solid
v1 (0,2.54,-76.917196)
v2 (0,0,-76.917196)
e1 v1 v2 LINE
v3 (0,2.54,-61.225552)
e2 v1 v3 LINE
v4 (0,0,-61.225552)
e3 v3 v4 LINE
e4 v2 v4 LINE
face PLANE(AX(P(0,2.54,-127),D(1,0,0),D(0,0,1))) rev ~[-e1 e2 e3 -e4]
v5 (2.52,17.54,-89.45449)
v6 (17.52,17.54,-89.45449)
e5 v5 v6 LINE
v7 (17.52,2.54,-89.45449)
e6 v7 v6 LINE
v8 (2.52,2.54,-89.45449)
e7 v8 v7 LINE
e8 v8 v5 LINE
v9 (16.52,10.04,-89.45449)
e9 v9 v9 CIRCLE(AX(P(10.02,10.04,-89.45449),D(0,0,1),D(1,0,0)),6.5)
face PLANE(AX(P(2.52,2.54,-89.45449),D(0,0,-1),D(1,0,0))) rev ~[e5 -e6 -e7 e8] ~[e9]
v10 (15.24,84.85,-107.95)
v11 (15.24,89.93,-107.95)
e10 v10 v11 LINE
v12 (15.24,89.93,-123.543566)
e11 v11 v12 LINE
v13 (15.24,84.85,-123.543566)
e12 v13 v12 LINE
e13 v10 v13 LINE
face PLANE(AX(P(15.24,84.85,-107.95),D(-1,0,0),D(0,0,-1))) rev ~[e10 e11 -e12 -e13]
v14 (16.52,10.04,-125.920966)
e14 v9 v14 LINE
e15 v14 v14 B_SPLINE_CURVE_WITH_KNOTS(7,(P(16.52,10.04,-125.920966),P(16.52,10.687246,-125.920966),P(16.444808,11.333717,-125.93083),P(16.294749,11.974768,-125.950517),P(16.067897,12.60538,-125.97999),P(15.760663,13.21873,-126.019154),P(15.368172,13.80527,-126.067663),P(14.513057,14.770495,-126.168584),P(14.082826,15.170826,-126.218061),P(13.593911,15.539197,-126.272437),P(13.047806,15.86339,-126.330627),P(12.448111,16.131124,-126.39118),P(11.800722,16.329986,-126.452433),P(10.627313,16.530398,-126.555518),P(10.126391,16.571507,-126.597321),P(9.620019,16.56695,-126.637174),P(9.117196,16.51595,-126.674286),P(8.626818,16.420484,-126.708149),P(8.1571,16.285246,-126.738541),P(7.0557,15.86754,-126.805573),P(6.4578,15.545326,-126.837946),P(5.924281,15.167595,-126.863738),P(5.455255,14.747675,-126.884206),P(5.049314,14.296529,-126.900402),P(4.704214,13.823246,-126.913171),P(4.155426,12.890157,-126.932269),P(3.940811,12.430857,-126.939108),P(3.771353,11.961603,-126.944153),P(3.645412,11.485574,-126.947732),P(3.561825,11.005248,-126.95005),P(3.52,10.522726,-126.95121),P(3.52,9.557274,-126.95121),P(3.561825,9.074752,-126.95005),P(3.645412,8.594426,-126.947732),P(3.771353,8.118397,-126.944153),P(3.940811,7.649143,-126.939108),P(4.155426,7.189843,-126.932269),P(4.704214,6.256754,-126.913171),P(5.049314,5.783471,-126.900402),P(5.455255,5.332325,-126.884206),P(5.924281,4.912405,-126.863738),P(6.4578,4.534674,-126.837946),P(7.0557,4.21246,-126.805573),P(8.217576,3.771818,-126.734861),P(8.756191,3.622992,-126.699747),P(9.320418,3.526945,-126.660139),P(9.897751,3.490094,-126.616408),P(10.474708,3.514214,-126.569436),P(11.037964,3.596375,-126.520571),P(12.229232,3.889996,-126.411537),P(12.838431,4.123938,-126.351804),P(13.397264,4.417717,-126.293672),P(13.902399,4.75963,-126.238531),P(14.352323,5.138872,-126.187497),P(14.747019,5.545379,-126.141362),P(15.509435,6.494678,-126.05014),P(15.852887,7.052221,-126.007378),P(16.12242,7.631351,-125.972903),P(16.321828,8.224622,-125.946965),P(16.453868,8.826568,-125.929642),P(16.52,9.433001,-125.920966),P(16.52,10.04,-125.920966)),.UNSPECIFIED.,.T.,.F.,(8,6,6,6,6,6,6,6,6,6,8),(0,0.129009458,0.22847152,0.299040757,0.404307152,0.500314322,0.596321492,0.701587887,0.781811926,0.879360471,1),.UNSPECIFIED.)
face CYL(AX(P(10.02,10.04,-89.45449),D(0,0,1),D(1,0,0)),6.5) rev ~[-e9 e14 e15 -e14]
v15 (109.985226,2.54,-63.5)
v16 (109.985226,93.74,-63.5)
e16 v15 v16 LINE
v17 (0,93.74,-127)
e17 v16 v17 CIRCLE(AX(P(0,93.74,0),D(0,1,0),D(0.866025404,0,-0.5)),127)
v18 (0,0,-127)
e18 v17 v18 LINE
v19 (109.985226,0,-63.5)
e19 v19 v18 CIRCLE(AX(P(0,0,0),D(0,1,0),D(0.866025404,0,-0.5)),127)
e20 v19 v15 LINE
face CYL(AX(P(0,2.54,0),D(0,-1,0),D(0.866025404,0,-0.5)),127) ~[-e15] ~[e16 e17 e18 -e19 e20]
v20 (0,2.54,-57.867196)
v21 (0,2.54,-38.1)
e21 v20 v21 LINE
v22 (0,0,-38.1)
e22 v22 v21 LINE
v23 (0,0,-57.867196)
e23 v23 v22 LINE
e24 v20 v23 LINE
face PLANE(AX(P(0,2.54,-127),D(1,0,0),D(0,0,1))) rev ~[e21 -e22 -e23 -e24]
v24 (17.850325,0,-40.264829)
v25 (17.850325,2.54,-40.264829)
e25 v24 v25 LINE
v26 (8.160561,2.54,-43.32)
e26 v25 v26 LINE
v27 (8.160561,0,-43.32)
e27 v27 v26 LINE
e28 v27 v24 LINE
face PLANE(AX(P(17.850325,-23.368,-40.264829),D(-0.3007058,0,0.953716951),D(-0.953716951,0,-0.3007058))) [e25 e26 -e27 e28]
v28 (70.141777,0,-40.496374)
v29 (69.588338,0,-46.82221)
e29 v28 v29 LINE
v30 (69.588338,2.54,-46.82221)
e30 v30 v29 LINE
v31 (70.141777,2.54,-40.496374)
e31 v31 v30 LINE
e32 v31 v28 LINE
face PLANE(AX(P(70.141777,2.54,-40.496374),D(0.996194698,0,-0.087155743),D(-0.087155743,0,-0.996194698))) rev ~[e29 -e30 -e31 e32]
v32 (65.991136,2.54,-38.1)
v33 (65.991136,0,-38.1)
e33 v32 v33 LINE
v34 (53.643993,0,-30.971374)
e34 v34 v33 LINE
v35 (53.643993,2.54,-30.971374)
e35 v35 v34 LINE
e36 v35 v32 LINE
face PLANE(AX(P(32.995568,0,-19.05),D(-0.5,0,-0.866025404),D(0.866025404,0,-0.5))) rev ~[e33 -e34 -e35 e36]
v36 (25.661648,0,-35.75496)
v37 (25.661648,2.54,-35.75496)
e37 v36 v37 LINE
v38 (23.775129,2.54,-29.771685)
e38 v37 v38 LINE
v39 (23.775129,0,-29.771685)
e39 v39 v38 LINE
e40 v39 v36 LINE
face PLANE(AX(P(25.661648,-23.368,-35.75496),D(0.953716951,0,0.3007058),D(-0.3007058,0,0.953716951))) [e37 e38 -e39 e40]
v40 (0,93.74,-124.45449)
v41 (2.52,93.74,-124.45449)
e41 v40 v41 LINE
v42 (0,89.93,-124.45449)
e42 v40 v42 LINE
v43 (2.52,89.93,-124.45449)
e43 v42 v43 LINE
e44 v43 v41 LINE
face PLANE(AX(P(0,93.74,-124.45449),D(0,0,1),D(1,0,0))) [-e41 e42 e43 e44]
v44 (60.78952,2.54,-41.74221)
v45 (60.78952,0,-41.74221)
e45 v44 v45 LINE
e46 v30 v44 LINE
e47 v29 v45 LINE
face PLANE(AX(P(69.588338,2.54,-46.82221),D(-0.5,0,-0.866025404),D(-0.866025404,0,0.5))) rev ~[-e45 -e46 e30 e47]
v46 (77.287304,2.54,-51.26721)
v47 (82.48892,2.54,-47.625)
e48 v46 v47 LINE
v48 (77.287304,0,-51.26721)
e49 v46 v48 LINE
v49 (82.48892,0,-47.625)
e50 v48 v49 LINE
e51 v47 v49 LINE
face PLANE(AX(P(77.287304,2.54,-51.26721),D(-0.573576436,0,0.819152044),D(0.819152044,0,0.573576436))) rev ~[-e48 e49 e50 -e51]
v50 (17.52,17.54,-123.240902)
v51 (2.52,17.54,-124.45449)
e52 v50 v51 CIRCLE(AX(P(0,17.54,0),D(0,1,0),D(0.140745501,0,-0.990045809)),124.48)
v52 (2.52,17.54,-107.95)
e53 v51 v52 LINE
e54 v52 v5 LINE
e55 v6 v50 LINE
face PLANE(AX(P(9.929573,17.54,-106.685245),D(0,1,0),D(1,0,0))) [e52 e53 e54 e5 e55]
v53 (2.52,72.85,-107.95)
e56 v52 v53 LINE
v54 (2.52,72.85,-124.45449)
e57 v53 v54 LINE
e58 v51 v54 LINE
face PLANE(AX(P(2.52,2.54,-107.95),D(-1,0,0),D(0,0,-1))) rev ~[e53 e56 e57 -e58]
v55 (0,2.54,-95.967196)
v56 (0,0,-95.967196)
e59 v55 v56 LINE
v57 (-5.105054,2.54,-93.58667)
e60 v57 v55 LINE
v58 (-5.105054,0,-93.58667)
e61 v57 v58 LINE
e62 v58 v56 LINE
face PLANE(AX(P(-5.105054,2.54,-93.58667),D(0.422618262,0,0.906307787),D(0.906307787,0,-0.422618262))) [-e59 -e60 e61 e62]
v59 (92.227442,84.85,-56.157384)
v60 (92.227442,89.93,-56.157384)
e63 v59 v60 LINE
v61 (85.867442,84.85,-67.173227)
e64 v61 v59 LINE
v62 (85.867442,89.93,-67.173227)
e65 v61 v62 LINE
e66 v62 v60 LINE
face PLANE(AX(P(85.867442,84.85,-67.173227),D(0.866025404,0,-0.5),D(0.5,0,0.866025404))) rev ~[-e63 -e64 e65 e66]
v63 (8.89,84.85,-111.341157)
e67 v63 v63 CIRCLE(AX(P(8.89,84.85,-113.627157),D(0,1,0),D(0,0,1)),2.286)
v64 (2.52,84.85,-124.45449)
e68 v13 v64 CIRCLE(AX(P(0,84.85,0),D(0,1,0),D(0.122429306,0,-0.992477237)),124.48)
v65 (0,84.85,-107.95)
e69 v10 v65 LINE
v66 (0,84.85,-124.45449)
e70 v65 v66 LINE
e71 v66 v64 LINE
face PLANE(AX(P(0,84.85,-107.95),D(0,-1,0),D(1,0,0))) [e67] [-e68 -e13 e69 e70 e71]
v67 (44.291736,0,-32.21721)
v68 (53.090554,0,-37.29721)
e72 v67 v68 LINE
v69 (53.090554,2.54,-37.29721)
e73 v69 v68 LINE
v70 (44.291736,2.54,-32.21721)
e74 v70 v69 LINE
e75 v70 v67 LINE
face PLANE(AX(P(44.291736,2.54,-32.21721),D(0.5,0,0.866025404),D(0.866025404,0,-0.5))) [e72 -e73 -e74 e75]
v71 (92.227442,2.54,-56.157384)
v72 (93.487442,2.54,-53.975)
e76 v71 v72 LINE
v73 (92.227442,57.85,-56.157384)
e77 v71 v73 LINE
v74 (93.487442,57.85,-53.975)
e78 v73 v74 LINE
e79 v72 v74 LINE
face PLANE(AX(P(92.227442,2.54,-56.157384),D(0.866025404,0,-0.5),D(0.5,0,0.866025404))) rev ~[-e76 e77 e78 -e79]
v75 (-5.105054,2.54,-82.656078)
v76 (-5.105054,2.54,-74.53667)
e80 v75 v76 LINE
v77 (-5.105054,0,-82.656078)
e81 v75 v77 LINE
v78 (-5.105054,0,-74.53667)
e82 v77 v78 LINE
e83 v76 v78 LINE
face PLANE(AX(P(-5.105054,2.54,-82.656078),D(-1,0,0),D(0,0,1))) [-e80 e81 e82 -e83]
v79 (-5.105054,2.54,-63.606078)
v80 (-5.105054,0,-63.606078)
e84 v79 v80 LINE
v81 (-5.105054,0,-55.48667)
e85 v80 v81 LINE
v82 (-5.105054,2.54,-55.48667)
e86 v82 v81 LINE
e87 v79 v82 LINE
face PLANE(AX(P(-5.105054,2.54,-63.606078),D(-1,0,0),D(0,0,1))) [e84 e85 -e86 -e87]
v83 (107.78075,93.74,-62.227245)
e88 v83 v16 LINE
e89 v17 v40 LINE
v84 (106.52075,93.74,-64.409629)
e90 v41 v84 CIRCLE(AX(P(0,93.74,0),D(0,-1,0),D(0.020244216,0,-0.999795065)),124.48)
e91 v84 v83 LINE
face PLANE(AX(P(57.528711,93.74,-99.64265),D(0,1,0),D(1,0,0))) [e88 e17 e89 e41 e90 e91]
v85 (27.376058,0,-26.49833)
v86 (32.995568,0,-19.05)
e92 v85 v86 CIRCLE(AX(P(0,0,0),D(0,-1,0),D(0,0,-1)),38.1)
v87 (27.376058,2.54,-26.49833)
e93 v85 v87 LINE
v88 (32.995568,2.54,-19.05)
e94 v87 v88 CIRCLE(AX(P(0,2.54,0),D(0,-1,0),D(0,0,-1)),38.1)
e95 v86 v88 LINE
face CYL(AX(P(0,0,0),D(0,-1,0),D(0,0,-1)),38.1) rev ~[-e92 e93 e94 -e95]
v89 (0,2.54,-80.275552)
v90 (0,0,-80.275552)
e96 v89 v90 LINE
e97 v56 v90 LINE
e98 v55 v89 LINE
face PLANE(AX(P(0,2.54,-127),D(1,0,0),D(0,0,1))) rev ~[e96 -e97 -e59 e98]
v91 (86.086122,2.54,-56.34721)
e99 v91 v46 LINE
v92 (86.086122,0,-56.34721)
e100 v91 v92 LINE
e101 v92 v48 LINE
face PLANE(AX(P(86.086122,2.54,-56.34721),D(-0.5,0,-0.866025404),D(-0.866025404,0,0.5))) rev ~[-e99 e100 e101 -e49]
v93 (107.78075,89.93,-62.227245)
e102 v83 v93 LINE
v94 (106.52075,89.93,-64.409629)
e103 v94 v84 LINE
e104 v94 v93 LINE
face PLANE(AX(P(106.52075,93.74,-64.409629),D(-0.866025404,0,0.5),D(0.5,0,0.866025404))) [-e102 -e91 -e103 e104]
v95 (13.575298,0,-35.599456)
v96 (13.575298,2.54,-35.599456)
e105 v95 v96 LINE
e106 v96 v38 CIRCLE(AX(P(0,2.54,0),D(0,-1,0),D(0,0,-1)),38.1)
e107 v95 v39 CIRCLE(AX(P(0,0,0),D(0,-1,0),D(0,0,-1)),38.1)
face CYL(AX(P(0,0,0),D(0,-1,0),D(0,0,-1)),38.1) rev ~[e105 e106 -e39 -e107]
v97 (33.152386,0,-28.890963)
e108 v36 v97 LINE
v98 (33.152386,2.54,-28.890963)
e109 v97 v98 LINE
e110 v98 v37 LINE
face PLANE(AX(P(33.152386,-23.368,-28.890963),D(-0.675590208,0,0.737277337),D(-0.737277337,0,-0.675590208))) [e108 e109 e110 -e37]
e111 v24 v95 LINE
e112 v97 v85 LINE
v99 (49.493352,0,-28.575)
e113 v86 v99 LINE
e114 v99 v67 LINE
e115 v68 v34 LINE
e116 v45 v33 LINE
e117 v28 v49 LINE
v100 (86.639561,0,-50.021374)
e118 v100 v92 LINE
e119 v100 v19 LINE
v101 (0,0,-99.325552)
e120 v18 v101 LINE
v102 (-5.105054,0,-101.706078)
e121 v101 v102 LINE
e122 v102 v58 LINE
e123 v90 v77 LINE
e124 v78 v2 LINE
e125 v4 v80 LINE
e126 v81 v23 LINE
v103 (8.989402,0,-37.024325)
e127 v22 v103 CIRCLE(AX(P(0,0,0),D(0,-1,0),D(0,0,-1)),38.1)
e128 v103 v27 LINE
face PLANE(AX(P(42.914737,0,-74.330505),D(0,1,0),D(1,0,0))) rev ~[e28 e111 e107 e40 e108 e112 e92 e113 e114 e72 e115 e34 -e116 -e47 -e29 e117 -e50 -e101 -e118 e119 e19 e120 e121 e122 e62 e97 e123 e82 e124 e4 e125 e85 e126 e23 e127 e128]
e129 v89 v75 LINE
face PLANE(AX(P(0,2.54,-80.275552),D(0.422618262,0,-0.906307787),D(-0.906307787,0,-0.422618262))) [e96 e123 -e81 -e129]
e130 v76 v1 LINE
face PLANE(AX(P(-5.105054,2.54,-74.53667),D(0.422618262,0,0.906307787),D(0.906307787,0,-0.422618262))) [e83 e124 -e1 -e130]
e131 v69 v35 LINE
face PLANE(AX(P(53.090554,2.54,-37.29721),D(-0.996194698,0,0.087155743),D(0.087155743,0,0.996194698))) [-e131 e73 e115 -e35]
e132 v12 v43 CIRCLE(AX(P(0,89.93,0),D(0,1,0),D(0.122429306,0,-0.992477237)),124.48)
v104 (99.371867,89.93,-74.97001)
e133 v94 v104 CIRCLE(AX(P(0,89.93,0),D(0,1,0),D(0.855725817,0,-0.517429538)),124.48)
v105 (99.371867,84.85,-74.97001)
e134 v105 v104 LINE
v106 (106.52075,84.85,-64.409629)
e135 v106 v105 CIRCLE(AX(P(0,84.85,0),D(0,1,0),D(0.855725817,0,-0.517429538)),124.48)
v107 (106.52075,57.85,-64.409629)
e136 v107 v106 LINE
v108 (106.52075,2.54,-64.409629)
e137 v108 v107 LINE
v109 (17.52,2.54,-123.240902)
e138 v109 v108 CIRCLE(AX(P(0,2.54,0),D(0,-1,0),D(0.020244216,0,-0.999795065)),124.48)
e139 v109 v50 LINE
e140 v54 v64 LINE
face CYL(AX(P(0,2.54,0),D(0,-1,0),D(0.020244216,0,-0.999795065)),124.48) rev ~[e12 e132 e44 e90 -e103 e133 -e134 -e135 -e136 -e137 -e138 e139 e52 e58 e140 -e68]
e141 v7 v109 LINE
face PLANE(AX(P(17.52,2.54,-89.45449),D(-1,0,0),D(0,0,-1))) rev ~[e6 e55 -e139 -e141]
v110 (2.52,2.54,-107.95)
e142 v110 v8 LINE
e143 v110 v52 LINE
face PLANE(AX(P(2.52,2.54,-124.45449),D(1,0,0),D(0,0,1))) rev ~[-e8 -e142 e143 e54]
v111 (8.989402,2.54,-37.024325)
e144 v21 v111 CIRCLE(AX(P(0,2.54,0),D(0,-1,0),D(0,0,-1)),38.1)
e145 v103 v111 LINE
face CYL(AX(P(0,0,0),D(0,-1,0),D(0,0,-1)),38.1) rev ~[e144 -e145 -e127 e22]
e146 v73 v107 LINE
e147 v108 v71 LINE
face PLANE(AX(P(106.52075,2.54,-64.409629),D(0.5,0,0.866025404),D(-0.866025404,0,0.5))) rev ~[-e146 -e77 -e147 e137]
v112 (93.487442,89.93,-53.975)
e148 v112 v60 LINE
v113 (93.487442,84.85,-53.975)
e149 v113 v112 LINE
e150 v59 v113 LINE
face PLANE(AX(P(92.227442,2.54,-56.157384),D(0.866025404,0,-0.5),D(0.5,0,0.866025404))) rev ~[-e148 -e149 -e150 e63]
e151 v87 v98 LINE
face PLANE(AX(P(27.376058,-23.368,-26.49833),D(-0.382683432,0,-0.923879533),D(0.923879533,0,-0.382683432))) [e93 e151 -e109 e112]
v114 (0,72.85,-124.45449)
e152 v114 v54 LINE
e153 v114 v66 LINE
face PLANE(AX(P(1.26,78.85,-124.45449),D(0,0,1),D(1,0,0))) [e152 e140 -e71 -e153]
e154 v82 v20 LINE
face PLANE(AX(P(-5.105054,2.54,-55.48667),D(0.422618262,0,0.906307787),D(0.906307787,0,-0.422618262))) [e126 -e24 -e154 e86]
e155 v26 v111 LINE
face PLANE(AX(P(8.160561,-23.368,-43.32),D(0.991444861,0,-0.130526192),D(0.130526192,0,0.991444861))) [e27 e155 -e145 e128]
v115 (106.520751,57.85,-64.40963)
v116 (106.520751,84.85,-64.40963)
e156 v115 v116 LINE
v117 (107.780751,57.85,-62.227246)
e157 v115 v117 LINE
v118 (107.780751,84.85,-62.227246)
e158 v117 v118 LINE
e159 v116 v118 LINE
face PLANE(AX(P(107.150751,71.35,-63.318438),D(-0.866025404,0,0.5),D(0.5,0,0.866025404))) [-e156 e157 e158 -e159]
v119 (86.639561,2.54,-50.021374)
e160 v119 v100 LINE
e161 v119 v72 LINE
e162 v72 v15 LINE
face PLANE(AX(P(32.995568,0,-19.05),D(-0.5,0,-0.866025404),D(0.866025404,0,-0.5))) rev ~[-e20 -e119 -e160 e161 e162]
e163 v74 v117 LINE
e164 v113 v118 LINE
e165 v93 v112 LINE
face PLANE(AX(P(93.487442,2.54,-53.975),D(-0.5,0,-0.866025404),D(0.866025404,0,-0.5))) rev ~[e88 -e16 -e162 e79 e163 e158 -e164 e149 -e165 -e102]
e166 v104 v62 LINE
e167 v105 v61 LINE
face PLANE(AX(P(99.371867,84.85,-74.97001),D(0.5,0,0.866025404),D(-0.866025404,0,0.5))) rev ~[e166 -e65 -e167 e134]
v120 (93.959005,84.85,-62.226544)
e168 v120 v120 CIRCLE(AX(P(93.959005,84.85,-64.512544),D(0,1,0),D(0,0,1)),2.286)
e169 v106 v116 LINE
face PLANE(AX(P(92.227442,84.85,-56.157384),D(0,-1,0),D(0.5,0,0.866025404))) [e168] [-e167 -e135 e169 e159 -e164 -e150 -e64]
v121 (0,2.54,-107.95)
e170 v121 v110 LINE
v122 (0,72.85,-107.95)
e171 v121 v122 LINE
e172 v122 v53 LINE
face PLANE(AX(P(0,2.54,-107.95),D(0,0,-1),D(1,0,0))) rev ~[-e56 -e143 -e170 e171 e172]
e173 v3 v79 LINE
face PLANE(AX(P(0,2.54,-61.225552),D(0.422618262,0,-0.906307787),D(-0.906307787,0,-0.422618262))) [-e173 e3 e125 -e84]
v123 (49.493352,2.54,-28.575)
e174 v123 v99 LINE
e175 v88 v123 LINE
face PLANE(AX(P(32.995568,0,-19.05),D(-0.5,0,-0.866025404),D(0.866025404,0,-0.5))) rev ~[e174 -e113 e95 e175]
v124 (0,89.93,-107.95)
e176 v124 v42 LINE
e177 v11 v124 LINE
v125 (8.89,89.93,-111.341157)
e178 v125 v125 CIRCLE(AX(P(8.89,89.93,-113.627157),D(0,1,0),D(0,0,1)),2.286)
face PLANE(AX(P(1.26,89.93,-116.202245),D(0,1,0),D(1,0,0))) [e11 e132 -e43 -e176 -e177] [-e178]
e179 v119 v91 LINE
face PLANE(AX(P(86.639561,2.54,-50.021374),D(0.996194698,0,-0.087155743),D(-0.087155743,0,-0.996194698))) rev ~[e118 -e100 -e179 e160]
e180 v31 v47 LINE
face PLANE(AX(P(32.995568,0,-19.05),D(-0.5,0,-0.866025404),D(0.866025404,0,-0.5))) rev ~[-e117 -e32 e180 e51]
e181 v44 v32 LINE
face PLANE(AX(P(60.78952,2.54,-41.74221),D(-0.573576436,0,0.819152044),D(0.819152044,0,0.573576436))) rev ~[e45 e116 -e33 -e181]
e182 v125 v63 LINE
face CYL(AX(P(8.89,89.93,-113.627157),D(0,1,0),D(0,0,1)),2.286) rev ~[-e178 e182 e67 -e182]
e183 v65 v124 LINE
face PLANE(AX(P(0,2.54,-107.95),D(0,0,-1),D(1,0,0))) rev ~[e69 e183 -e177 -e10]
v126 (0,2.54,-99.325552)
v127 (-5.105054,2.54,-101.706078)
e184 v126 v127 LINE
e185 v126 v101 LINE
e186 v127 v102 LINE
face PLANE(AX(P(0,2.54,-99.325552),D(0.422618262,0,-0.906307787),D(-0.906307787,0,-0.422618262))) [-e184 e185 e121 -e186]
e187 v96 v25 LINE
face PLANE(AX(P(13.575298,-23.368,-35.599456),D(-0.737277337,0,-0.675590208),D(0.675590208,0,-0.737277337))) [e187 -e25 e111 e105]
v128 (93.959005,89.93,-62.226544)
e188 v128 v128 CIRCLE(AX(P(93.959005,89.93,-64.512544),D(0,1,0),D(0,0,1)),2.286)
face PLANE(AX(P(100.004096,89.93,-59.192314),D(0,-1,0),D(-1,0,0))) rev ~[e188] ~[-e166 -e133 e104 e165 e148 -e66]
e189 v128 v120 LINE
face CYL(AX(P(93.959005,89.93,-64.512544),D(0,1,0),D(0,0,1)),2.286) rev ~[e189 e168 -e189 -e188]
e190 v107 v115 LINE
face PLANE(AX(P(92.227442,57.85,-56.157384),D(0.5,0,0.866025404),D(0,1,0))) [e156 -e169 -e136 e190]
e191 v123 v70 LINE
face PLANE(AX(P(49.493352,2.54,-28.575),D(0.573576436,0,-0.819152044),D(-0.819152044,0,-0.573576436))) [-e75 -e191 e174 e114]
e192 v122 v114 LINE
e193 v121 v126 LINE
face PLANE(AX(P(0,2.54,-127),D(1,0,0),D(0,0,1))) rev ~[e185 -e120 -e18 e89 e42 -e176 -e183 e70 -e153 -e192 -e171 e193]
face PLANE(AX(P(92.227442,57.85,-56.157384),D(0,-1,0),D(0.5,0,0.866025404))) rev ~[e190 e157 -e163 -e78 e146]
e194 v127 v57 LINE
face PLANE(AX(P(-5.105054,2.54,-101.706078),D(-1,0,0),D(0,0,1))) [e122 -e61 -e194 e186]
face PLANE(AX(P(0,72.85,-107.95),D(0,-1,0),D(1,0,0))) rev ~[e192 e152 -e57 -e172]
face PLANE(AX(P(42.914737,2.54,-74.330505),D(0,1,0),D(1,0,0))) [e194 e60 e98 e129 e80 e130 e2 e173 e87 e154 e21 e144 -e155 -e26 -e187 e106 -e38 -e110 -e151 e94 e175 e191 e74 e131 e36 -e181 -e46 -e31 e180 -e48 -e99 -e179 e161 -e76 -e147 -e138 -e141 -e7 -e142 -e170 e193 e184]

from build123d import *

# Parameters (mm, degrees)
BOSS_EXTRUDE1_DEPTH      = 2.54
BOSS_EXTRUDE2_DEPTH      = 91.2
CUT_EXTRUDE2_START       = -25.908
CUT_EXTRUDE2_DEPTH       = 25.908
CUT_EXTRUDE3_DEPTH       = 25.908
BOSS_EXTRUDE3_DEPTH      = 2.54
BOSS_EXTRUDE6_START      = -8.89
BOSS_EXTRUDE6_DEPTH      = 5.08
CUT_EXTRUDE4_REACH       = 192.56
SKETCH12_R               = 2.286
SKETCH14_W               = 2.52
SKETCH14_H               = 16.504489674
CUT_EXTRUDE5_DEPTH       = 3.81
SKETCH20_W               = 2.52
SKETCH20_H               = 12
CUT_EXTRUDE8_DEPTH       = 16.50449
SKETCH21_W               = 2.52
SKETCH21_H               = 27
CUT_EXTRUDE9_DEPTH       = 16.504491
BOSS_EXTRUDE7_DEPTH      = 15
CUT_EXTRUDE10_REACH      = 162.751
CUT_EXTRUDE10_END_RADIUS = 127
SKETCH23_R               = 6.5


with BuildPart() as part:
    # Sketch3 → Boss-Extrude1 (new body)
    with BuildSketch(Plane(origin=(0, 0, 0), x_dir=(1, 0, 0), z_dir=(0, 1, 0))):
        with BuildLine():
            Line((0, 127), (0, 38.1))
            ThreePointArc((0, 38.1), (19.05, 32.995567884), (32.995567884, 19.05))
            Line((32.995567884, 19.05), (109.985226281, 63.5))
            ThreePointArc((109.985226281, 63.5), (63.5, 109.985226281), (0, 127))
        make_face()
    extrude(amount=BOSS_EXTRUDE1_DEPTH)

    # Sketch4 → Boss-Extrude2 (add)
    with BuildSketch(Plane(origin=(0, 2.54, 0), x_dir=(1, 0, 0), z_dir=(0, 1, 0))):
        with BuildLine():
            Line((0, 127), (0, 107.95))
            Line((0, 107.95), (2.52, 107.95))
            Line((2.52, 107.95), (2.52, 124.454489674))
            ThreePointArc((2.52, 124.454489674), (62.24, 107.802842263), (106.520749673, 64.409628855))
            Line((106.520749673, 64.409628855), (92.227442339, 56.157384018))
            Line((92.227442339, 56.157384018), (93.487442339, 53.975))
            Line((93.487442339, 53.975), (109.985226281, 63.5))
            ThreePointArc((109.985226281, 63.5), (63.5, 109.985226281), (0, 127))
        make_face()
    extrude(amount=BOSS_EXTRUDE2_DEPTH)

    # Sketch5 → Cut-Extrude2 (cut)
    with BuildSketch(Plane(origin=(0, 2.54, 0), x_dir=(1, 0, 0), z_dir=(0, 1, 0)).offset(CUT_EXTRUDE2_START)):
        with BuildLine():
            Line((17.850324991, 40.264829059), (8.160560772, 43.319999982))
            Line((8.160560772, 43.319999982), (8.989402092, 37.024325112))
            ThreePointArc((8.989402092, 37.024325112), (11.304821498, 36.384213759), (13.575298322, 35.599456112))
            Line((13.575298322, 35.599456112), (17.850324991, 40.264829059))
        make_face()
        with BuildLine():
            Line((25.661648149, 35.754959531), (23.775129005, 29.77168522))
            ThreePointArc((23.775129005, 29.77168522), (25.627908389, 28.192557734), (27.37605765, 26.498329524))
            Line((27.37605765, 26.498329524), (33.152385891, 28.890963022))
            Line((33.152385891, 28.890963022), (25.661648149, 35.754959531))
        make_face()
    extrude(amount=CUT_EXTRUDE2_DEPTH, mode=Mode.SUBTRACT)

    # Sketch6 → Cut-Extrude3 (cut)
    with BuildSketch(Plane(origin=(0, 2.54, 0), x_dir=(1, 0, 0), z_dir=(0, 1, 0))):
        Polygon((49.493351826, 28.575), (44.291736345, 32.217210371), (53.090554447, 37.297210371), (53.643993414, 30.971374038), align=None)
        Polygon((65.991135768, 38.1), (70.141777356, 40.496374038), (69.58833839, 46.822210371), (60.789520287, 41.742210371), align=None)
        Polygon((82.48891971, 47.625), (86.639561298, 50.021374038), (86.086122332, 56.347210371), (77.287304229, 51.267210371), align=None)
    extrude(amount=-CUT_EXTRUDE3_DEPTH, mode=Mode.SUBTRACT)

    # Sketch7 → Boss-Extrude3 (add)
    with BuildSketch(Plane(origin=(0, 2.54, 0), x_dir=(1, 0, 0), z_dir=(0, 1, 0))):
        Polygon((0, 95.967195647), (0, 99.325552429), (-5.105054448, 101.706078413), (-5.105054448, 93.586669663), align=None)
        Polygon((0, 76.917195647), (0, 80.275552429), (-5.105054448, 82.656078413), (-5.105054448, 74.536669663), align=None)
        Polygon((0, 57.867195647), (0, 61.225552429), (-5.105054448, 63.606078413), (-5.105054448, 55.486669663), align=None)
    extrude(amount=-BOSS_EXTRUDE3_DEPTH)

    # Sketch9 → Boss-Extrude6 (add)
    with BuildSketch(Plane(origin=(0, 93.74, 0), x_dir=(1, 0, 0), z_dir=(0, 1, 0)).offset(BOSS_EXTRUDE6_START)):
        with BuildLine():
            Line((2.52, 124.454489674), (2.52, 107.95))
            Line((2.52, 107.95), (15.24, 107.95))
            Line((15.24, 107.95), (15.24, 123.543566405))
            ThreePointArc((15.24, 123.543566405), (8.891672807, 124.162025413), (2.52, 124.454489674))
        make_face()
        with BuildLine():
            ThreePointArc((106.520749673, 64.409628855), (103.08163179, 69.781427239), (99.371866981, 74.970010356))
            Line((99.371866981, 74.970010356), (85.867442339, 67.173227154))
            Line((85.867442339, 67.173227154), (92.227442339, 56.157384018))
            Line((92.227442339, 56.157384018), (106.520749673, 64.409628855))
        make_face()
    extrude(amount=BOSS_EXTRUDE6_DEPTH)

    # Sketch12 → Cut-Extrude4 (cut, up to next)
    with BuildSketch(Plane(origin=(0, 89.93, 0), x_dir=(1, 0, 0), z_dir=(0, 1, 0)), mode=Mode.PRIVATE) as cut_extrude4_sk1:
        with Locations(Location((8.89, 113.627157306, 0), (0, 0, 270))):
            Circle(SKETCH12_R)
    cut_extrude4_tool1 = extrude(cut_extrude4_sk1.sketch, amount=-CUT_EXTRUDE4_REACH, mode=Mode.PRIVATE) & part.part
    # Sketch12 → Cut-Extrude4 (cut, up to next)
    with BuildSketch(Plane(origin=(0, 89.93, 0), x_dir=(1, 0, 0), z_dir=(0, 1, 0)), mode=Mode.PRIVATE) as cut_extrude4_sk2:
        with Locations(Location((93.959004787, 64.512544493, 0), (0, 0, 270))):
            Circle(SKETCH12_R)
    cut_extrude4_tool2 = extrude(cut_extrude4_sk2.sketch, amount=-CUT_EXTRUDE4_REACH, mode=Mode.PRIVATE) & part.part
    add(cut_extrude4_tool1.solids().sort_by_distance((8.89, 89.93, -113.627157))[0], mode=Mode.SUBTRACT)
    add(cut_extrude4_tool2.solids().sort_by_distance((93.959005, 89.93, -64.512544))[0], mode=Mode.SUBTRACT)

    # Sketch14 → Cut-Extrude5 (cut)
    with BuildSketch(Plane(origin=(0, 93.74, 0), x_dir=(1, 0, 0), z_dir=(0, 1, 0))):
        with Locations((1.26, 116.202244837)):
            Rectangle(SKETCH14_W, SKETCH14_H)
        Polygon((106.520749673, 64.409628855), (107.780749673, 62.227244837), (93.487442339, 53.975), (92.227442339, 56.157384018), align=None)
    extrude(amount=-CUT_EXTRUDE5_DEPTH, mode=Mode.SUBTRACT)

    # Sketch20 → Cut-Extrude8 (cut)
    with BuildSketch(Plane.XY.offset(-107.95)):
        with Locations((1.26, 78.85)):
            Rectangle(SKETCH20_W, SKETCH20_H)
    extrude(amount=-CUT_EXTRUDE8_DEPTH, mode=Mode.SUBTRACT)

    # Sketch21 → Cut-Extrude9 (cut)
    with BuildSketch(Plane(origin=(93.487442339, 0, -53.975), x_dir=(0.500000000000006, 0, 0.8660254037844352), z_dir=(-0.8660254037844352, 0, 0.500000000000006))):
        with Locations((-1.26, 71.35)):
            Rectangle(SKETCH21_W, SKETCH21_H)
    extrude(amount=-CUT_EXTRUDE9_DEPTH, mode=Mode.SUBTRACT)

    # Sketch22 → Boss-Extrude7 (add)
    with BuildSketch(Plane(origin=(0, 2.54, 0), x_dir=(1, 0, 0), z_dir=(0, 1, 0))):
        with BuildLine():
            Line((2.52, 124.454489674), (2.52, 89.454489674))
            Line((2.52, 89.454489674), (17.52, 89.454489674))
            Line((17.52, 89.454489674), (17.52, 123.240902301))
            ThreePointArc((17.52, 123.240902301), (10.038356368, 124.074581609), (2.52, 124.454489674))
        make_face()
    extrude(amount=BOSS_EXTRUDE7_DEPTH)

    # Cut-Extrude10: up to this cylinder (the profile starts inside it)
    cut_extrude10_end = Plane(origin=(0, 10.04, 0), z_dir=(0, -1, 0)) * Cylinder(CUT_EXTRUDE10_END_RADIUS, 580.502, mode=Mode.PRIVATE)
    # Sketch23 → Cut-Extrude10 (cut, up to the surface)
    with BuildSketch(Plane.XY.offset(-89.454489674), mode=Mode.PRIVATE) as cut_extrude10_sk1:
        with Locations((10.02, 10.04)):
            Circle(SKETCH23_R)
    cut_extrude10_tool1 = extrude(cut_extrude10_sk1.sketch, amount=-CUT_EXTRUDE10_REACH, mode=Mode.PRIVATE) & cut_extrude10_end
    add(cut_extrude10_tool1.solids().sort_by_distance((10.02, 10.04, -89.45449))[0], mode=Mode.SUBTRACT)


solid = part.part
